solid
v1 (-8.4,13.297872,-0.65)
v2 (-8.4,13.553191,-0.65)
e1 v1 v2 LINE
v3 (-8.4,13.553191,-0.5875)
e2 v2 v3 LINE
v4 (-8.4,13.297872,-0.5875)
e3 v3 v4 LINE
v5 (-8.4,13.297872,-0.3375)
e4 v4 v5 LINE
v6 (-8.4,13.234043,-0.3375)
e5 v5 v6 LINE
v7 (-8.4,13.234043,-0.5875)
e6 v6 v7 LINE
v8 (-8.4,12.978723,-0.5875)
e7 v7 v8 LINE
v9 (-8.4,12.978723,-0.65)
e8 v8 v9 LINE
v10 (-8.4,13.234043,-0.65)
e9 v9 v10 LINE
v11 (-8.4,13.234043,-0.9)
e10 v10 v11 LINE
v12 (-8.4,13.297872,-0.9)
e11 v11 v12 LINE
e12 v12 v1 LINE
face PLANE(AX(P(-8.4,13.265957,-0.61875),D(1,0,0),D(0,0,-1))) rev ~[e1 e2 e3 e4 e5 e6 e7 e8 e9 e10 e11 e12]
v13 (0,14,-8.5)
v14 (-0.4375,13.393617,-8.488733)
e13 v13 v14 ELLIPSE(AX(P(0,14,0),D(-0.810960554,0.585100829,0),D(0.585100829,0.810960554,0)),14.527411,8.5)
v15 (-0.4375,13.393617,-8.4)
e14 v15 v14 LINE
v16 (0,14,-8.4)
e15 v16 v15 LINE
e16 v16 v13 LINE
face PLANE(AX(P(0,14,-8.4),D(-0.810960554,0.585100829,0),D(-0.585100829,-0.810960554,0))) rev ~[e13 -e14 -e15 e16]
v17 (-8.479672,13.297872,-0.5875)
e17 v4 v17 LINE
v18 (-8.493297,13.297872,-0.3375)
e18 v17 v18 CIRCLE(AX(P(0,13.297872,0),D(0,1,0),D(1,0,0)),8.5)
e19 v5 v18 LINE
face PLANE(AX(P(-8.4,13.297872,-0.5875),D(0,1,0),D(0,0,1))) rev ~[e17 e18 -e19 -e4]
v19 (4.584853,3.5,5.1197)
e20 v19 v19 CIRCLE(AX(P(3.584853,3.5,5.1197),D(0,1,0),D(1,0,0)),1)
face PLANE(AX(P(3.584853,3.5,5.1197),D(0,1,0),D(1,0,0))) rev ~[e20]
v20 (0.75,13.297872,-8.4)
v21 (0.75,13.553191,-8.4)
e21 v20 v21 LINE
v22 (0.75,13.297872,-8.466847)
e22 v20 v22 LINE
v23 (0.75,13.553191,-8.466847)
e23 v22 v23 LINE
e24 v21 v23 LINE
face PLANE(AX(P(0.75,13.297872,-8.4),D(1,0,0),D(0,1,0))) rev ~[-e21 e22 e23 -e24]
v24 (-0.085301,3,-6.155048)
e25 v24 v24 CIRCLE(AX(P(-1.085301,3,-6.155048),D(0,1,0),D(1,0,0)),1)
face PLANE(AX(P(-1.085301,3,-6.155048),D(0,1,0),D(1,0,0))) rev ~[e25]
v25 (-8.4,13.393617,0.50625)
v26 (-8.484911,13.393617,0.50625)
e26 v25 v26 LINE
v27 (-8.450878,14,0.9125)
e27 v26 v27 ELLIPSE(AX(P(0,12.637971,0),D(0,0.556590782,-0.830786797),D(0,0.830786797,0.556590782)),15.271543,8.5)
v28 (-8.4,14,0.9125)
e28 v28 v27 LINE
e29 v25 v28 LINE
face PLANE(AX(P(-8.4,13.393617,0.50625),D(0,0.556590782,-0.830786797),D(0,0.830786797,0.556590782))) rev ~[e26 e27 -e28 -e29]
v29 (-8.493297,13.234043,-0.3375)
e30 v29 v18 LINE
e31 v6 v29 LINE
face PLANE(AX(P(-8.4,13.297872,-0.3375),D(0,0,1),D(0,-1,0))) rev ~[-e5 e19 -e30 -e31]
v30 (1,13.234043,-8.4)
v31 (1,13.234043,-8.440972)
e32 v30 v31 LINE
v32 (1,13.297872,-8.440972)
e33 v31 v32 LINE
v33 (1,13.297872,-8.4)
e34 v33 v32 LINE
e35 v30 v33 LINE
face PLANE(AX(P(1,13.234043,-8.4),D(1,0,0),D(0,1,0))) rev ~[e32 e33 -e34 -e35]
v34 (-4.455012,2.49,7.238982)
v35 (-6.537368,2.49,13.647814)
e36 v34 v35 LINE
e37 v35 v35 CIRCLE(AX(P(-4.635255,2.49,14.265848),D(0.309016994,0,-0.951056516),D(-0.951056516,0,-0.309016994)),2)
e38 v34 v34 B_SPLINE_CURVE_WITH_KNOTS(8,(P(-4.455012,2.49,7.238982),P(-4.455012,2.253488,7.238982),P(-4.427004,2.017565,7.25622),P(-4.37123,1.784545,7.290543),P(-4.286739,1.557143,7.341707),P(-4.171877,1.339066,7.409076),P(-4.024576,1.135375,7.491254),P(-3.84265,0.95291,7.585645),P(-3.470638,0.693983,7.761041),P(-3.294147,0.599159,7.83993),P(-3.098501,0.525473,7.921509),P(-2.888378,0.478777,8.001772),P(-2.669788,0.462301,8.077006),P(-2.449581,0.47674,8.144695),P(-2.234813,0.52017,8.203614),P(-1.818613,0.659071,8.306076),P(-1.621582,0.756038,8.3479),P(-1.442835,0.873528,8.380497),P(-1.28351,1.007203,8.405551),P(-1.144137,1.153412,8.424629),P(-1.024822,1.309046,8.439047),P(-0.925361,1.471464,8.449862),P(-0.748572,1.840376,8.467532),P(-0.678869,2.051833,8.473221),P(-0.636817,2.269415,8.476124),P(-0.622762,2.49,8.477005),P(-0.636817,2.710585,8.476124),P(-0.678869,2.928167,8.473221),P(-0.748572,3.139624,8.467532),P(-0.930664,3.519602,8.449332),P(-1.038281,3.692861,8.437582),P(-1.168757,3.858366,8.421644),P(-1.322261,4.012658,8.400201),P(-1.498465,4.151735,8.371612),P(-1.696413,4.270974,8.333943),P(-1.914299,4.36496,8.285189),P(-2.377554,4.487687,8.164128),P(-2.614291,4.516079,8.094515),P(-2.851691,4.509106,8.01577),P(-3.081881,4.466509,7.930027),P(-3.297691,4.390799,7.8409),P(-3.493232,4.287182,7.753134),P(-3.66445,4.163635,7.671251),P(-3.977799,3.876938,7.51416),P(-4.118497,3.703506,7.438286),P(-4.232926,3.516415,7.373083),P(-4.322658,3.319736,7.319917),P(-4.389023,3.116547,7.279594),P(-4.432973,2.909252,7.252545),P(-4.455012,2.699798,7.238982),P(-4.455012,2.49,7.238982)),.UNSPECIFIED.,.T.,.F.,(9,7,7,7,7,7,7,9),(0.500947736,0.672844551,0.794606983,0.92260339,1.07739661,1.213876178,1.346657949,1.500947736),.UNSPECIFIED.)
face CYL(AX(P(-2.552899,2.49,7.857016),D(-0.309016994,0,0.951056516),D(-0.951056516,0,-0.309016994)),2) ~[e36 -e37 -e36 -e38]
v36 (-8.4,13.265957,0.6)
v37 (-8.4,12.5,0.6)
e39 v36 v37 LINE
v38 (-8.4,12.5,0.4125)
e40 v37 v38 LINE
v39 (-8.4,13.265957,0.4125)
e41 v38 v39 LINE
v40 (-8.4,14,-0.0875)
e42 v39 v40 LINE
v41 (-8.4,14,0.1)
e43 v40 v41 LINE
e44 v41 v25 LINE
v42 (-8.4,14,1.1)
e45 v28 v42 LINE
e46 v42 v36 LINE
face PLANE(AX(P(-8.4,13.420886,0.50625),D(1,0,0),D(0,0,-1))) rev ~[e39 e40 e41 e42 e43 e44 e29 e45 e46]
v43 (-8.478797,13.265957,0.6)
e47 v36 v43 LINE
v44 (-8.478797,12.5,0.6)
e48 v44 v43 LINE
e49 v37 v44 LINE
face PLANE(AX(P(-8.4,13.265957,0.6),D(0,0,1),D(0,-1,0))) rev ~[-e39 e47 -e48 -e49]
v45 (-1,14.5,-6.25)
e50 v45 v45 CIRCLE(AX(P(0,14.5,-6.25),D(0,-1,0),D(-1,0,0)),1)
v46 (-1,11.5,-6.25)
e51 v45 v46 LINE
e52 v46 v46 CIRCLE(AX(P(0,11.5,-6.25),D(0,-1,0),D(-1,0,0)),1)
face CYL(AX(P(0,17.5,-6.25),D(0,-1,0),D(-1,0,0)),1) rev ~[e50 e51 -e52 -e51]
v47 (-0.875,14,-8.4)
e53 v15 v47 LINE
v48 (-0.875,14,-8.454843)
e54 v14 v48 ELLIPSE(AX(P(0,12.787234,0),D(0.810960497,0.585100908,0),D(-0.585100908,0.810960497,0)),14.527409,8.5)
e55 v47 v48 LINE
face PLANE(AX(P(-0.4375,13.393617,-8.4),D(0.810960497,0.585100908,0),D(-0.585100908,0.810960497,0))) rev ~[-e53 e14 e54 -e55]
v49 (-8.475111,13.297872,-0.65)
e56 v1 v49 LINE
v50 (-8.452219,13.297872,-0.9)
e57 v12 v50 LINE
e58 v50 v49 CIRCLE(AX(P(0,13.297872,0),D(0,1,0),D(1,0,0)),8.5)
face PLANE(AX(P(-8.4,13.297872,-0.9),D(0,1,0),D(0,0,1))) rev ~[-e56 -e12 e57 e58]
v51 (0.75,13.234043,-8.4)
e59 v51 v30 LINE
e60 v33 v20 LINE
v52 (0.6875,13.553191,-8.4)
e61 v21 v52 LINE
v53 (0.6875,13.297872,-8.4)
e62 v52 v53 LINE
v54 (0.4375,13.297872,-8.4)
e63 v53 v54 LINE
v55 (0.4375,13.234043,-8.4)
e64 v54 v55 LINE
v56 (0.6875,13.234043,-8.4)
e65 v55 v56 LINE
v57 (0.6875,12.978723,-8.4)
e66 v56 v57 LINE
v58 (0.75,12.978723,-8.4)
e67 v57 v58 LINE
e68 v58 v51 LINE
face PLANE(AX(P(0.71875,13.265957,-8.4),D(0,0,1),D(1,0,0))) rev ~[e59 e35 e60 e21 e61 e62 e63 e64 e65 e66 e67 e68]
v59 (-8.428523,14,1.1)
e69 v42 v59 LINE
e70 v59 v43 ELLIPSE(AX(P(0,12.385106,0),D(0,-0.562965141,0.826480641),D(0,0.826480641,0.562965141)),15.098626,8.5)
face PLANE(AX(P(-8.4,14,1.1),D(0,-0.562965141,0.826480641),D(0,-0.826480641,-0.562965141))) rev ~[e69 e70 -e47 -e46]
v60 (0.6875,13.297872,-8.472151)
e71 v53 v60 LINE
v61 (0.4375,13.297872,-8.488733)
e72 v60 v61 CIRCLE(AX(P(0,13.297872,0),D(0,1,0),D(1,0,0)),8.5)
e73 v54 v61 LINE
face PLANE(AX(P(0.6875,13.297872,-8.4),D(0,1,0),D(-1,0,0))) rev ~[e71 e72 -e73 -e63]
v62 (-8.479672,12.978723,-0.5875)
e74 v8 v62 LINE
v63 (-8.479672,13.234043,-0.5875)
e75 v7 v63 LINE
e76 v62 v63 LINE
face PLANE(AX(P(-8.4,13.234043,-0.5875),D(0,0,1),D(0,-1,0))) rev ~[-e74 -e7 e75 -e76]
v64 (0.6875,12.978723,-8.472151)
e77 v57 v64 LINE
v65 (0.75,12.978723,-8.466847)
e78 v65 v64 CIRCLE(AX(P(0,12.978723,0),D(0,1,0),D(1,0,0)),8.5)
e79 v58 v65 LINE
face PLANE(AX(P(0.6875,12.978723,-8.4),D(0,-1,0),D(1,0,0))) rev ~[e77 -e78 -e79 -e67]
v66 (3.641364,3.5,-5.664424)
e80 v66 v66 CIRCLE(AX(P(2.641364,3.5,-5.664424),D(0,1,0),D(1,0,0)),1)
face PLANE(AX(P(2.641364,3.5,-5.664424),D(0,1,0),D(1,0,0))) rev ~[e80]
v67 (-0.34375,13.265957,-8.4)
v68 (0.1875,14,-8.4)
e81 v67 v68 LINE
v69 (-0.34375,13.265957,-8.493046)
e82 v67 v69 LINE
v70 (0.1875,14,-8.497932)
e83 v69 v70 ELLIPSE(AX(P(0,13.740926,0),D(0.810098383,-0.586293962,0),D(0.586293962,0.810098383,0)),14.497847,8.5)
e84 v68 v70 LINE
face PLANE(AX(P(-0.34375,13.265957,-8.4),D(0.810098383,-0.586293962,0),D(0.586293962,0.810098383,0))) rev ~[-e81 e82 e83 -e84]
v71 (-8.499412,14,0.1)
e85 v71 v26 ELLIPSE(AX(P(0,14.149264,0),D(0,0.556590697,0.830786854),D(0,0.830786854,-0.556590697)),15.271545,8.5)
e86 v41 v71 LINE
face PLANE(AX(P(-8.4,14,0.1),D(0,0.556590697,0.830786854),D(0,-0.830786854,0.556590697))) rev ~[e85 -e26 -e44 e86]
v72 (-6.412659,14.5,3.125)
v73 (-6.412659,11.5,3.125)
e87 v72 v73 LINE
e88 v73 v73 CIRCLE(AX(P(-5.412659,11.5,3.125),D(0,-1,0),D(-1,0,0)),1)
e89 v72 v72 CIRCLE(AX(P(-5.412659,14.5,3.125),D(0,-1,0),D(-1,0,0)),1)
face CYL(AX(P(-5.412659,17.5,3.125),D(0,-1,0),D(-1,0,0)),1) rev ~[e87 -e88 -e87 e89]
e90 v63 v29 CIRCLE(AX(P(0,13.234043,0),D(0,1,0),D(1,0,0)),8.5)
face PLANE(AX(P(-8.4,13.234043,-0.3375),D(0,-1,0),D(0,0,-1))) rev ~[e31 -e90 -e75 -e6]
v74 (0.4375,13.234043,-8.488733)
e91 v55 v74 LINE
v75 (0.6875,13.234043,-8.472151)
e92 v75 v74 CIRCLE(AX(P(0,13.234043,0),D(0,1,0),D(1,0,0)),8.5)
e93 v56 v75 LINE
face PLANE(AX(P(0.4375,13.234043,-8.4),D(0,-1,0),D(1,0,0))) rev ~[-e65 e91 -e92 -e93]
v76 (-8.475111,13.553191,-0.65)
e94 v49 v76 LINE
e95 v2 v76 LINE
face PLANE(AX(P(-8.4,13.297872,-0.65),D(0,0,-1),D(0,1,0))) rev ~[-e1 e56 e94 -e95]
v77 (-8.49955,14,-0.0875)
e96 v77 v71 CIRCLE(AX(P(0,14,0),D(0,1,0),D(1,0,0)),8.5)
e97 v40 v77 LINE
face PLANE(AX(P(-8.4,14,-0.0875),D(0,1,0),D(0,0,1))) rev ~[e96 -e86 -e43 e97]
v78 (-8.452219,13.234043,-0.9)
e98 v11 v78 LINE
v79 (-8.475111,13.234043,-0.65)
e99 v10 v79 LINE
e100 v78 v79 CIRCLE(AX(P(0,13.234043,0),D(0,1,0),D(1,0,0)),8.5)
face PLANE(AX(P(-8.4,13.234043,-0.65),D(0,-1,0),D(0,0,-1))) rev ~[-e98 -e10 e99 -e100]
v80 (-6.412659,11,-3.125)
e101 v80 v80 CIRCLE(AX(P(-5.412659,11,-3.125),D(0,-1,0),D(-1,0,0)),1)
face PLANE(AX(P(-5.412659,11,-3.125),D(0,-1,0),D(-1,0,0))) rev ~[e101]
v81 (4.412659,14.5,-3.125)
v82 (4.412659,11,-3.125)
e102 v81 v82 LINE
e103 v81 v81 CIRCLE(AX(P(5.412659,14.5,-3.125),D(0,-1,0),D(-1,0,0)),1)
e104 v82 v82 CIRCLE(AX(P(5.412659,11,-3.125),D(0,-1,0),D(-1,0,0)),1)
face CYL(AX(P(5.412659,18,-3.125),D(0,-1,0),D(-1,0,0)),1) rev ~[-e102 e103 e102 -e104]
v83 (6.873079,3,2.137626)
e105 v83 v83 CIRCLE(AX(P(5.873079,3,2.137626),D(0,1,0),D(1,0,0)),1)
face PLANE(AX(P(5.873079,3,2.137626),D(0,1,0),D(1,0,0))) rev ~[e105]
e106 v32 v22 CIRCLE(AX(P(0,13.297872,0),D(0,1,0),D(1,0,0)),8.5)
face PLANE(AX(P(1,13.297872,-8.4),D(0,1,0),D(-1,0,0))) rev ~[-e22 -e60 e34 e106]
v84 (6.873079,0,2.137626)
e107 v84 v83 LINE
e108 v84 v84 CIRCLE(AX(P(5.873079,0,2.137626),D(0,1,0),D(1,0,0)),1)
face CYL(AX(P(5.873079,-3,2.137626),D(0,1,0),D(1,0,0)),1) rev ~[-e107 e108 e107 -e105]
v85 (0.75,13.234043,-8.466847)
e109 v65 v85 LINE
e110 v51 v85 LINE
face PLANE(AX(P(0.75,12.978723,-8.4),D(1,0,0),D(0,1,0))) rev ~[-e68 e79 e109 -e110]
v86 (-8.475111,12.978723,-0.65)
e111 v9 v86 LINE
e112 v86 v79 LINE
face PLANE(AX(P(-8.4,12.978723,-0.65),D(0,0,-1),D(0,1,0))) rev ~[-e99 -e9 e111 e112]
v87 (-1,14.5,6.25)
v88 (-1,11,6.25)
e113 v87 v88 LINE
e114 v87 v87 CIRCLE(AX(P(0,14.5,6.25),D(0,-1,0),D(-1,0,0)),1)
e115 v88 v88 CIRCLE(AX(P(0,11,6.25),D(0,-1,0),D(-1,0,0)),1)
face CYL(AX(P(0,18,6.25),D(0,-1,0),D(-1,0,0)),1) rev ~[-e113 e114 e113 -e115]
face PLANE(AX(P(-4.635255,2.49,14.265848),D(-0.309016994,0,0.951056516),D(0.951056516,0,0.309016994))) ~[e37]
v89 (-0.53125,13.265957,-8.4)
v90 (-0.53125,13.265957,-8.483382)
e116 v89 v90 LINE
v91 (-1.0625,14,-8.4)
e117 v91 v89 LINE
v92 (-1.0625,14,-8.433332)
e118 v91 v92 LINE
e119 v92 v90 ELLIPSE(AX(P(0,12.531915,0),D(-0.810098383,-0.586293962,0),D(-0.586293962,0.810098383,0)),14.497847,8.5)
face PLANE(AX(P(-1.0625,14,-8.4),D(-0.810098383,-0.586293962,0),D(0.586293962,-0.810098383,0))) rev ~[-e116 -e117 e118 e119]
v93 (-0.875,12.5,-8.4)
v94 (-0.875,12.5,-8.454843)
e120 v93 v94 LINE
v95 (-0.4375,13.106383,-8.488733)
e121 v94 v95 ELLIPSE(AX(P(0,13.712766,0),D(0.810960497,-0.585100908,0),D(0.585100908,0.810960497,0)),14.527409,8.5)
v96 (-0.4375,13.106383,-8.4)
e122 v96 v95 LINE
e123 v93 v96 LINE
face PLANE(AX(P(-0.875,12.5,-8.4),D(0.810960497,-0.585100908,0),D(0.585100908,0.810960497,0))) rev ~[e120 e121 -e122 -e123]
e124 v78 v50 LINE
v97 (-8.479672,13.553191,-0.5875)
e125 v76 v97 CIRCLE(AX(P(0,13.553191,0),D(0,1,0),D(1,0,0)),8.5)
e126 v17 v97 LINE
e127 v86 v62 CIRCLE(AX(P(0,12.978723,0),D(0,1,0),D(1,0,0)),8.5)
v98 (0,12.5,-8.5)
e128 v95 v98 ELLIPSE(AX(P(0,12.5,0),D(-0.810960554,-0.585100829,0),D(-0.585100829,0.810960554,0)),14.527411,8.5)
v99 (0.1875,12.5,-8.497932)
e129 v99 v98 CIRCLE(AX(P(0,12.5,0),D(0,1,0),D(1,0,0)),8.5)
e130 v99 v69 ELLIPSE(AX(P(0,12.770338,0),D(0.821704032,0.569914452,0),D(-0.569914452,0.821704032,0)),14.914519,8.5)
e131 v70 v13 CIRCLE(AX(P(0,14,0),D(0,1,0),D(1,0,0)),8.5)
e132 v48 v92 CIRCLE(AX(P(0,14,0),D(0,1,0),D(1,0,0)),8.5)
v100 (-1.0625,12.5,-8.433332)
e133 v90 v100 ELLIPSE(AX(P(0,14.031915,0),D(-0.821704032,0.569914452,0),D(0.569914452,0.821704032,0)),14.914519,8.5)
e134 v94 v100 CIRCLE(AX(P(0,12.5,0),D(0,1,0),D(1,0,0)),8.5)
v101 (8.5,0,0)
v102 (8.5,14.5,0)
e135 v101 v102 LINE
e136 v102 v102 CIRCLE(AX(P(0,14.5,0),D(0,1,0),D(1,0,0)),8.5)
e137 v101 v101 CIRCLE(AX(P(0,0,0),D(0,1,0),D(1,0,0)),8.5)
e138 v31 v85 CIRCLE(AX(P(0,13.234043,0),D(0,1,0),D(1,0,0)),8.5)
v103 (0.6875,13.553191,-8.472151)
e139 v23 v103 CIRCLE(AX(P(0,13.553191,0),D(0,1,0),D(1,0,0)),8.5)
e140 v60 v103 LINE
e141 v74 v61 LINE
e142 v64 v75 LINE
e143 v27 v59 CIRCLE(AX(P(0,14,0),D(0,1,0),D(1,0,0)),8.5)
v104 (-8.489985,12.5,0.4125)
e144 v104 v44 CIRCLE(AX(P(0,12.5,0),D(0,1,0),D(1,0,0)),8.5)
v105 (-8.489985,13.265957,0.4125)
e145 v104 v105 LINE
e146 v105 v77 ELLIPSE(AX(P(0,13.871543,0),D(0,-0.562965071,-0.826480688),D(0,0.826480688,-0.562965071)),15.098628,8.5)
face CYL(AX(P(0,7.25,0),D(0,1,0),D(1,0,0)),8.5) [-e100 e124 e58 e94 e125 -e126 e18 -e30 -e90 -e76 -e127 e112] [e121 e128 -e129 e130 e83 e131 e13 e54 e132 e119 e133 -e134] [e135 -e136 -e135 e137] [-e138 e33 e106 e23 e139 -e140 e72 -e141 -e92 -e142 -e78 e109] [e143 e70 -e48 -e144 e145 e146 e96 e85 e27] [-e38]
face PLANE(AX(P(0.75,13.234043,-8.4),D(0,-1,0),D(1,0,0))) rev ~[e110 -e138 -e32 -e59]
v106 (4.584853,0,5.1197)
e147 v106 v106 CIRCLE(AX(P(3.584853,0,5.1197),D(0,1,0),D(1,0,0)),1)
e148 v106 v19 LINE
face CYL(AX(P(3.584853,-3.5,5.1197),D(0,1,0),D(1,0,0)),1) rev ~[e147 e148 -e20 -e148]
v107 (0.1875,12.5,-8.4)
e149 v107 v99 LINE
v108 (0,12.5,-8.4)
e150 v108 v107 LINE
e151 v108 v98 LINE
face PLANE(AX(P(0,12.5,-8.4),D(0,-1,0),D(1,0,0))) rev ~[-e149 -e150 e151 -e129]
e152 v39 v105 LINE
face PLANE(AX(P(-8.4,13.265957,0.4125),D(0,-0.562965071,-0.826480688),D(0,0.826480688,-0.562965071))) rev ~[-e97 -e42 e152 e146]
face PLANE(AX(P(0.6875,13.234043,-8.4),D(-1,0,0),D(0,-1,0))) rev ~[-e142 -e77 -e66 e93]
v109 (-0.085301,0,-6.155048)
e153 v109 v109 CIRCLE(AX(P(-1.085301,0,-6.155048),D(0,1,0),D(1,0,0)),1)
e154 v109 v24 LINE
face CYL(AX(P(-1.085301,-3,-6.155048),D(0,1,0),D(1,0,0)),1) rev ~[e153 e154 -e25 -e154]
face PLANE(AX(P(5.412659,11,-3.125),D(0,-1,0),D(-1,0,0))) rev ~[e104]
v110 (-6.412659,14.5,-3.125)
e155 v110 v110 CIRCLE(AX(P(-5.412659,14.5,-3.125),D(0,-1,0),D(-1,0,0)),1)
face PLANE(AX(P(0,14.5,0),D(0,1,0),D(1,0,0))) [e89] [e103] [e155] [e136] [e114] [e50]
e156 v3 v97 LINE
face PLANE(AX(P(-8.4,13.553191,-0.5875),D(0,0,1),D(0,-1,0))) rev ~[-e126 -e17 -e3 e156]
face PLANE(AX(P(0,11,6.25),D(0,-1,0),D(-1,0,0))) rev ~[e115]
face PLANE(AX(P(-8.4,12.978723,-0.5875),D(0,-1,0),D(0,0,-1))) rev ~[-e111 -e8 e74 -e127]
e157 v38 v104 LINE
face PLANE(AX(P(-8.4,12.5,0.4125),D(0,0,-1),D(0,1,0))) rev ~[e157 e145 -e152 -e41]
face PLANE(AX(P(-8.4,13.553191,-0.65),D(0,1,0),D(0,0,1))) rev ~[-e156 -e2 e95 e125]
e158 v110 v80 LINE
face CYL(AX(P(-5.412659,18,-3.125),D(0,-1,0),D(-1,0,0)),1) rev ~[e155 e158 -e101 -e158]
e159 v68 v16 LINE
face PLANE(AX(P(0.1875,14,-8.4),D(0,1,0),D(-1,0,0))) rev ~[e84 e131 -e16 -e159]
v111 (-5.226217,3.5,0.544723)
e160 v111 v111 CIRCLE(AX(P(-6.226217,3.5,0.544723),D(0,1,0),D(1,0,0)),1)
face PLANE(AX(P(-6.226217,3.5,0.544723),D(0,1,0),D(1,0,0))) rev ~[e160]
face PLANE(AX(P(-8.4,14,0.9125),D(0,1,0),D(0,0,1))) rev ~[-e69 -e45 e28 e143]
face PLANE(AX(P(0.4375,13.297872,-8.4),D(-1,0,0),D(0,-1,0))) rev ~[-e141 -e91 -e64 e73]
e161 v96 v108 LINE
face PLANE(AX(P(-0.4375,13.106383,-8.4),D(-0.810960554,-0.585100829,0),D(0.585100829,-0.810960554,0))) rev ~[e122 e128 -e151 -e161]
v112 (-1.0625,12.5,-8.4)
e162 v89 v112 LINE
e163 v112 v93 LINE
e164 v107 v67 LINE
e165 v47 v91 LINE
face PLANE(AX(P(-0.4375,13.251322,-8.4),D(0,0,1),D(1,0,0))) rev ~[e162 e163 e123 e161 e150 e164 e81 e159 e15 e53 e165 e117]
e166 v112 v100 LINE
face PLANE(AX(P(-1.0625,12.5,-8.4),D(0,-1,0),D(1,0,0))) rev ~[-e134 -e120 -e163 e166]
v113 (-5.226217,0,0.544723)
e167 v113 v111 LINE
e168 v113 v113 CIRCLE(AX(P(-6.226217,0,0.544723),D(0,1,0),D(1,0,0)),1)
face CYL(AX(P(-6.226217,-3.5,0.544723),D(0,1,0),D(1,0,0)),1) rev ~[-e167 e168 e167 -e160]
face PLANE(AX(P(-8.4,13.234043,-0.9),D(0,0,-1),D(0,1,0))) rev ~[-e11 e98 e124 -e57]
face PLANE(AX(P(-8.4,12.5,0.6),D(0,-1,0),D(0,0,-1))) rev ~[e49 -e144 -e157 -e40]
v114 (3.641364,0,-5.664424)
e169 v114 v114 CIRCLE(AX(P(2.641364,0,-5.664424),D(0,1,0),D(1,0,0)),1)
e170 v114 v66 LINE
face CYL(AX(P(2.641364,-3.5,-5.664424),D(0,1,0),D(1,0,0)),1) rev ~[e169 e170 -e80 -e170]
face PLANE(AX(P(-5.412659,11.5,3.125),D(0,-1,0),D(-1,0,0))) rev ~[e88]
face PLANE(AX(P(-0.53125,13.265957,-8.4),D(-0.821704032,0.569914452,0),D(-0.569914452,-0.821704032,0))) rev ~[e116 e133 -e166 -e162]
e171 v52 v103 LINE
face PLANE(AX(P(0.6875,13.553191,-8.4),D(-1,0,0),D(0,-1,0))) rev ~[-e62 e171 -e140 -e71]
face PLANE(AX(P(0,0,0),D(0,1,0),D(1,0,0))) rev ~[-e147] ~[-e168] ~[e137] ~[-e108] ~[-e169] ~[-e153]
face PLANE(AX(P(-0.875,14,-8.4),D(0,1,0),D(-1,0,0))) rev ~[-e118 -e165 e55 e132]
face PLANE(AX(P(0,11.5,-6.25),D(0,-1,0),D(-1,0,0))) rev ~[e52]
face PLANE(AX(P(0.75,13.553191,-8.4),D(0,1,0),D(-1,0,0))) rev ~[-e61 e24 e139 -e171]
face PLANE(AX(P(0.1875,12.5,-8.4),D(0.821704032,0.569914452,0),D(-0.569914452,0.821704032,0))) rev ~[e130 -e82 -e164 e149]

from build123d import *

# Parameters (mm, degrees)
SKETCH1_W                    = 8.5
SKETCH1_H                    = 14.5
CUT_EXTRUDE1_REACH           = 2.1
CUT_EXTRUDE2_REACH           = 2.1
CUT_EXTRUDE3_REACH           = 2.1
CUT_EXTRUDE4_REACH           = 2.1
F_2_0_2_DIAMETER_HOLE1_D     = 2
F_2_0_2_DIAMETER_HOLE1_DEPTH = 3
F_2_0_2_DIAMETER_HOLE2_D     = 2
F_2_0_2_DIAMETER_HOLE2_DEPTH = 3.5
F_2_0_2_DIAMETER_HOLE3_D     = 2
F_2_0_2_DIAMETER_HOLE3_DEPTH = 3
F_2_0_2_DIAMETER_HOLE4_D     = 2
F_2_0_2_DIAMETER_HOLE4_DEPTH = 3.5


with BuildPart() as part:
    # Sketch1 → Revolve1 (revolve)
    with BuildSketch(Plane(origin=(0, 0, 0), x_dir=(-1, 0, 0), z_dir=(0, 0, -1))):
        with Locations((-4.25, 7.25)):
            Rectangle(SKETCH1_W, SKETCH1_H)
    revolve(axis=Axis((0, 0, 0), (0, 1, 0)))

    # Sketch2 → Cut-Extrude1 (cut, up to next)
    with BuildSketch(Plane(origin=(-8.4, 0, 0), x_dir=(0, 0, -1), z_dir=(1, 0, 0)), mode=Mode.PRIVATE) as cut_extrude1_sk1:
        Polygon((0.9, 13.234042555), (0.9, 13.297872335), (0.649999993, 13.297872335), (0.649999993, 13.553191453), (0.587500007, 13.553191453), (0.587500007, 13.297872335), (0.3375, 13.297872335), (0.3375, 13.234042555), (0.587500007, 13.234042555), (0.587500007, 12.978723392), (0.649999993, 12.978723392), (0.649999993, 13.234042555), align=None)
    cut_extrude1_tool1 = extrude(cut_extrude1_sk1.sketch, amount=-CUT_EXTRUDE1_REACH, mode=Mode.PRIVATE) & part.part
    add(cut_extrude1_tool1.solids().sort_by_distance((-8.4, 13.265957, -0.61875))[0], mode=Mode.SUBTRACT)

    # Sketch3 → Cut-Extrude2 (cut, up to next)
    with BuildSketch(Plane.XY.offset(-8.4), mode=Mode.PRIVATE) as cut_extrude2_sk1:
        Polygon((1, 13.234042555), (1, 13.297872335), (0.749999993, 13.297872335), (0.749999993, 13.553191453), (0.687500007, 13.553191453), (0.687500007, 13.297872335), (0.4375, 13.297872335), (0.4375, 13.234042555), (0.687500007, 13.234042555), (0.687500007, 12.978723392), (0.749999993, 12.978723392), (0.749999993, 13.234042555), align=None)
    cut_extrude2_tool1 = extrude(cut_extrude2_sk1.sketch, amount=-CUT_EXTRUDE2_REACH, mode=Mode.PRIVATE) & part.part
    add(cut_extrude2_tool1.solids().sort_by_distance((0.71875, 13.265957, -8.4))[0], mode=Mode.SUBTRACT)

    # Sketch4 → Cut-Extrude3 (cut, up to next)
    with BuildSketch(Plane.XY.offset(-8.4), mode=Mode.PRIVATE) as cut_extrude3_sk1:
        Polygon((-0.875, 12.5), (-0.43749997, 13.106382996), (-3e-08, 12.5), (0.18749997, 12.5), (-0.34374997, 13.265957445), (0.18749997, 14), (-3e-08, 14), (-0.43749997, 13.393617004), (-0.875, 14), (-1.0625, 14), (-0.53125006, 13.265957445), (-1.0625, 12.5), align=None)
    cut_extrude3_tool1 = extrude(cut_extrude3_sk1.sketch, amount=-CUT_EXTRUDE3_REACH, mode=Mode.PRIVATE) & part.part
    add(cut_extrude3_tool1.solids().sort_by_distance((-0.4375, 13.242259, -8.4))[0], mode=Mode.SUBTRACT)

    # Sketch5 → Cut-Extrude4 (cut, up to next)
    with BuildSketch(Plane(origin=(-8.4, 0, 0), x_dir=(0, 0, -1), z_dir=(1, 0, 0)), mode=Mode.PRIVATE) as cut_extrude4_sk1:
        Polygon((-1.10000006, 14), (-0.6, 13.265957445), (-0.6, 12.5), (-0.4125, 12.5), (-0.4125, 13.265957445), (0.08749997, 14), (-0.10000003, 14), (-0.50625, 13.393617004), (-0.91250006, 14), align=None)
    cut_extrude4_tool1 = extrude(cut_extrude4_sk1.sketch, amount=-CUT_EXTRUDE4_REACH, mode=Mode.PRIVATE) & part.part
    add(cut_extrude4_tool1.solids().sort_by_distance((-8.4, 13.37564, 0.50625))[0], mode=Mode.SUBTRACT)

    # Sketch6 → Revolve2 (revolve)
    with BuildSketch(Plane(origin=(0, 2.49, 0), x_dir=(1, 0, 0), z_dir=(0, 1, 0))):
        Polygon((-6.537367948, -13.647813756), (-4.635254916, -14.265847744), (-2.552899345, -7.857016287), (-4.455012378, -7.238982298), align=None)
    revolve(axis=Axis((-4.635254916, 2.49, 14.265847744), (0.309016994, 0, -0.951056516)))

    # Ø2.0 (2) Diameter Hole1
    with Locations(Plane(origin=(0, 0, 0), x_dir=(-1, 0, 0), z_dir=(0, -1, 0))):
        with Locations((1.08530111, 6.155048456), (-5.87307888, -2.137625896)):
            Hole(F_2_0_2_DIAMETER_HOLE1_D / 2, depth=F_2_0_2_DIAMETER_HOLE1_DEPTH)

    # Ø2.0 (2) Diameter Hole2
    with Locations(Plane(origin=(0, 0, 0), x_dir=(-1, 0, 0), z_dir=(0, -1, 0))):
        with Locations((6.226216863, -0.544723392), (-3.584852727, -5.119700277), (-2.641364136, 5.664423669)):
            Hole(F_2_0_2_DIAMETER_HOLE2_D / 2, depth=F_2_0_2_DIAMETER_HOLE2_DEPTH)

    # Ø2.0 (2) Diameter Hole3
    with Locations(Plane(origin=(0, 14.5, 0), x_dir=(1, 0, 0), z_dir=(0, 1, 0))):
        with Locations((0, 6.25), (-5.412658774, -3.125)):
            Hole(F_2_0_2_DIAMETER_HOLE3_D / 2, depth=F_2_0_2_DIAMETER_HOLE3_DEPTH)

    # Ø2.0 (2) Diameter Hole4
    with Locations(Plane(origin=(0, 14.5, 0), x_dir=(1, 0, 0), z_dir=(0, 1, 0))):
        with Locations((0, -6.25), (5.412658774, 3.125), (-5.412658774, 3.125)):
            Hole(F_2_0_2_DIAMETER_HOLE4_D / 2, depth=F_2_0_2_DIAMETER_HOLE4_DEPTH)


solid = part.part
